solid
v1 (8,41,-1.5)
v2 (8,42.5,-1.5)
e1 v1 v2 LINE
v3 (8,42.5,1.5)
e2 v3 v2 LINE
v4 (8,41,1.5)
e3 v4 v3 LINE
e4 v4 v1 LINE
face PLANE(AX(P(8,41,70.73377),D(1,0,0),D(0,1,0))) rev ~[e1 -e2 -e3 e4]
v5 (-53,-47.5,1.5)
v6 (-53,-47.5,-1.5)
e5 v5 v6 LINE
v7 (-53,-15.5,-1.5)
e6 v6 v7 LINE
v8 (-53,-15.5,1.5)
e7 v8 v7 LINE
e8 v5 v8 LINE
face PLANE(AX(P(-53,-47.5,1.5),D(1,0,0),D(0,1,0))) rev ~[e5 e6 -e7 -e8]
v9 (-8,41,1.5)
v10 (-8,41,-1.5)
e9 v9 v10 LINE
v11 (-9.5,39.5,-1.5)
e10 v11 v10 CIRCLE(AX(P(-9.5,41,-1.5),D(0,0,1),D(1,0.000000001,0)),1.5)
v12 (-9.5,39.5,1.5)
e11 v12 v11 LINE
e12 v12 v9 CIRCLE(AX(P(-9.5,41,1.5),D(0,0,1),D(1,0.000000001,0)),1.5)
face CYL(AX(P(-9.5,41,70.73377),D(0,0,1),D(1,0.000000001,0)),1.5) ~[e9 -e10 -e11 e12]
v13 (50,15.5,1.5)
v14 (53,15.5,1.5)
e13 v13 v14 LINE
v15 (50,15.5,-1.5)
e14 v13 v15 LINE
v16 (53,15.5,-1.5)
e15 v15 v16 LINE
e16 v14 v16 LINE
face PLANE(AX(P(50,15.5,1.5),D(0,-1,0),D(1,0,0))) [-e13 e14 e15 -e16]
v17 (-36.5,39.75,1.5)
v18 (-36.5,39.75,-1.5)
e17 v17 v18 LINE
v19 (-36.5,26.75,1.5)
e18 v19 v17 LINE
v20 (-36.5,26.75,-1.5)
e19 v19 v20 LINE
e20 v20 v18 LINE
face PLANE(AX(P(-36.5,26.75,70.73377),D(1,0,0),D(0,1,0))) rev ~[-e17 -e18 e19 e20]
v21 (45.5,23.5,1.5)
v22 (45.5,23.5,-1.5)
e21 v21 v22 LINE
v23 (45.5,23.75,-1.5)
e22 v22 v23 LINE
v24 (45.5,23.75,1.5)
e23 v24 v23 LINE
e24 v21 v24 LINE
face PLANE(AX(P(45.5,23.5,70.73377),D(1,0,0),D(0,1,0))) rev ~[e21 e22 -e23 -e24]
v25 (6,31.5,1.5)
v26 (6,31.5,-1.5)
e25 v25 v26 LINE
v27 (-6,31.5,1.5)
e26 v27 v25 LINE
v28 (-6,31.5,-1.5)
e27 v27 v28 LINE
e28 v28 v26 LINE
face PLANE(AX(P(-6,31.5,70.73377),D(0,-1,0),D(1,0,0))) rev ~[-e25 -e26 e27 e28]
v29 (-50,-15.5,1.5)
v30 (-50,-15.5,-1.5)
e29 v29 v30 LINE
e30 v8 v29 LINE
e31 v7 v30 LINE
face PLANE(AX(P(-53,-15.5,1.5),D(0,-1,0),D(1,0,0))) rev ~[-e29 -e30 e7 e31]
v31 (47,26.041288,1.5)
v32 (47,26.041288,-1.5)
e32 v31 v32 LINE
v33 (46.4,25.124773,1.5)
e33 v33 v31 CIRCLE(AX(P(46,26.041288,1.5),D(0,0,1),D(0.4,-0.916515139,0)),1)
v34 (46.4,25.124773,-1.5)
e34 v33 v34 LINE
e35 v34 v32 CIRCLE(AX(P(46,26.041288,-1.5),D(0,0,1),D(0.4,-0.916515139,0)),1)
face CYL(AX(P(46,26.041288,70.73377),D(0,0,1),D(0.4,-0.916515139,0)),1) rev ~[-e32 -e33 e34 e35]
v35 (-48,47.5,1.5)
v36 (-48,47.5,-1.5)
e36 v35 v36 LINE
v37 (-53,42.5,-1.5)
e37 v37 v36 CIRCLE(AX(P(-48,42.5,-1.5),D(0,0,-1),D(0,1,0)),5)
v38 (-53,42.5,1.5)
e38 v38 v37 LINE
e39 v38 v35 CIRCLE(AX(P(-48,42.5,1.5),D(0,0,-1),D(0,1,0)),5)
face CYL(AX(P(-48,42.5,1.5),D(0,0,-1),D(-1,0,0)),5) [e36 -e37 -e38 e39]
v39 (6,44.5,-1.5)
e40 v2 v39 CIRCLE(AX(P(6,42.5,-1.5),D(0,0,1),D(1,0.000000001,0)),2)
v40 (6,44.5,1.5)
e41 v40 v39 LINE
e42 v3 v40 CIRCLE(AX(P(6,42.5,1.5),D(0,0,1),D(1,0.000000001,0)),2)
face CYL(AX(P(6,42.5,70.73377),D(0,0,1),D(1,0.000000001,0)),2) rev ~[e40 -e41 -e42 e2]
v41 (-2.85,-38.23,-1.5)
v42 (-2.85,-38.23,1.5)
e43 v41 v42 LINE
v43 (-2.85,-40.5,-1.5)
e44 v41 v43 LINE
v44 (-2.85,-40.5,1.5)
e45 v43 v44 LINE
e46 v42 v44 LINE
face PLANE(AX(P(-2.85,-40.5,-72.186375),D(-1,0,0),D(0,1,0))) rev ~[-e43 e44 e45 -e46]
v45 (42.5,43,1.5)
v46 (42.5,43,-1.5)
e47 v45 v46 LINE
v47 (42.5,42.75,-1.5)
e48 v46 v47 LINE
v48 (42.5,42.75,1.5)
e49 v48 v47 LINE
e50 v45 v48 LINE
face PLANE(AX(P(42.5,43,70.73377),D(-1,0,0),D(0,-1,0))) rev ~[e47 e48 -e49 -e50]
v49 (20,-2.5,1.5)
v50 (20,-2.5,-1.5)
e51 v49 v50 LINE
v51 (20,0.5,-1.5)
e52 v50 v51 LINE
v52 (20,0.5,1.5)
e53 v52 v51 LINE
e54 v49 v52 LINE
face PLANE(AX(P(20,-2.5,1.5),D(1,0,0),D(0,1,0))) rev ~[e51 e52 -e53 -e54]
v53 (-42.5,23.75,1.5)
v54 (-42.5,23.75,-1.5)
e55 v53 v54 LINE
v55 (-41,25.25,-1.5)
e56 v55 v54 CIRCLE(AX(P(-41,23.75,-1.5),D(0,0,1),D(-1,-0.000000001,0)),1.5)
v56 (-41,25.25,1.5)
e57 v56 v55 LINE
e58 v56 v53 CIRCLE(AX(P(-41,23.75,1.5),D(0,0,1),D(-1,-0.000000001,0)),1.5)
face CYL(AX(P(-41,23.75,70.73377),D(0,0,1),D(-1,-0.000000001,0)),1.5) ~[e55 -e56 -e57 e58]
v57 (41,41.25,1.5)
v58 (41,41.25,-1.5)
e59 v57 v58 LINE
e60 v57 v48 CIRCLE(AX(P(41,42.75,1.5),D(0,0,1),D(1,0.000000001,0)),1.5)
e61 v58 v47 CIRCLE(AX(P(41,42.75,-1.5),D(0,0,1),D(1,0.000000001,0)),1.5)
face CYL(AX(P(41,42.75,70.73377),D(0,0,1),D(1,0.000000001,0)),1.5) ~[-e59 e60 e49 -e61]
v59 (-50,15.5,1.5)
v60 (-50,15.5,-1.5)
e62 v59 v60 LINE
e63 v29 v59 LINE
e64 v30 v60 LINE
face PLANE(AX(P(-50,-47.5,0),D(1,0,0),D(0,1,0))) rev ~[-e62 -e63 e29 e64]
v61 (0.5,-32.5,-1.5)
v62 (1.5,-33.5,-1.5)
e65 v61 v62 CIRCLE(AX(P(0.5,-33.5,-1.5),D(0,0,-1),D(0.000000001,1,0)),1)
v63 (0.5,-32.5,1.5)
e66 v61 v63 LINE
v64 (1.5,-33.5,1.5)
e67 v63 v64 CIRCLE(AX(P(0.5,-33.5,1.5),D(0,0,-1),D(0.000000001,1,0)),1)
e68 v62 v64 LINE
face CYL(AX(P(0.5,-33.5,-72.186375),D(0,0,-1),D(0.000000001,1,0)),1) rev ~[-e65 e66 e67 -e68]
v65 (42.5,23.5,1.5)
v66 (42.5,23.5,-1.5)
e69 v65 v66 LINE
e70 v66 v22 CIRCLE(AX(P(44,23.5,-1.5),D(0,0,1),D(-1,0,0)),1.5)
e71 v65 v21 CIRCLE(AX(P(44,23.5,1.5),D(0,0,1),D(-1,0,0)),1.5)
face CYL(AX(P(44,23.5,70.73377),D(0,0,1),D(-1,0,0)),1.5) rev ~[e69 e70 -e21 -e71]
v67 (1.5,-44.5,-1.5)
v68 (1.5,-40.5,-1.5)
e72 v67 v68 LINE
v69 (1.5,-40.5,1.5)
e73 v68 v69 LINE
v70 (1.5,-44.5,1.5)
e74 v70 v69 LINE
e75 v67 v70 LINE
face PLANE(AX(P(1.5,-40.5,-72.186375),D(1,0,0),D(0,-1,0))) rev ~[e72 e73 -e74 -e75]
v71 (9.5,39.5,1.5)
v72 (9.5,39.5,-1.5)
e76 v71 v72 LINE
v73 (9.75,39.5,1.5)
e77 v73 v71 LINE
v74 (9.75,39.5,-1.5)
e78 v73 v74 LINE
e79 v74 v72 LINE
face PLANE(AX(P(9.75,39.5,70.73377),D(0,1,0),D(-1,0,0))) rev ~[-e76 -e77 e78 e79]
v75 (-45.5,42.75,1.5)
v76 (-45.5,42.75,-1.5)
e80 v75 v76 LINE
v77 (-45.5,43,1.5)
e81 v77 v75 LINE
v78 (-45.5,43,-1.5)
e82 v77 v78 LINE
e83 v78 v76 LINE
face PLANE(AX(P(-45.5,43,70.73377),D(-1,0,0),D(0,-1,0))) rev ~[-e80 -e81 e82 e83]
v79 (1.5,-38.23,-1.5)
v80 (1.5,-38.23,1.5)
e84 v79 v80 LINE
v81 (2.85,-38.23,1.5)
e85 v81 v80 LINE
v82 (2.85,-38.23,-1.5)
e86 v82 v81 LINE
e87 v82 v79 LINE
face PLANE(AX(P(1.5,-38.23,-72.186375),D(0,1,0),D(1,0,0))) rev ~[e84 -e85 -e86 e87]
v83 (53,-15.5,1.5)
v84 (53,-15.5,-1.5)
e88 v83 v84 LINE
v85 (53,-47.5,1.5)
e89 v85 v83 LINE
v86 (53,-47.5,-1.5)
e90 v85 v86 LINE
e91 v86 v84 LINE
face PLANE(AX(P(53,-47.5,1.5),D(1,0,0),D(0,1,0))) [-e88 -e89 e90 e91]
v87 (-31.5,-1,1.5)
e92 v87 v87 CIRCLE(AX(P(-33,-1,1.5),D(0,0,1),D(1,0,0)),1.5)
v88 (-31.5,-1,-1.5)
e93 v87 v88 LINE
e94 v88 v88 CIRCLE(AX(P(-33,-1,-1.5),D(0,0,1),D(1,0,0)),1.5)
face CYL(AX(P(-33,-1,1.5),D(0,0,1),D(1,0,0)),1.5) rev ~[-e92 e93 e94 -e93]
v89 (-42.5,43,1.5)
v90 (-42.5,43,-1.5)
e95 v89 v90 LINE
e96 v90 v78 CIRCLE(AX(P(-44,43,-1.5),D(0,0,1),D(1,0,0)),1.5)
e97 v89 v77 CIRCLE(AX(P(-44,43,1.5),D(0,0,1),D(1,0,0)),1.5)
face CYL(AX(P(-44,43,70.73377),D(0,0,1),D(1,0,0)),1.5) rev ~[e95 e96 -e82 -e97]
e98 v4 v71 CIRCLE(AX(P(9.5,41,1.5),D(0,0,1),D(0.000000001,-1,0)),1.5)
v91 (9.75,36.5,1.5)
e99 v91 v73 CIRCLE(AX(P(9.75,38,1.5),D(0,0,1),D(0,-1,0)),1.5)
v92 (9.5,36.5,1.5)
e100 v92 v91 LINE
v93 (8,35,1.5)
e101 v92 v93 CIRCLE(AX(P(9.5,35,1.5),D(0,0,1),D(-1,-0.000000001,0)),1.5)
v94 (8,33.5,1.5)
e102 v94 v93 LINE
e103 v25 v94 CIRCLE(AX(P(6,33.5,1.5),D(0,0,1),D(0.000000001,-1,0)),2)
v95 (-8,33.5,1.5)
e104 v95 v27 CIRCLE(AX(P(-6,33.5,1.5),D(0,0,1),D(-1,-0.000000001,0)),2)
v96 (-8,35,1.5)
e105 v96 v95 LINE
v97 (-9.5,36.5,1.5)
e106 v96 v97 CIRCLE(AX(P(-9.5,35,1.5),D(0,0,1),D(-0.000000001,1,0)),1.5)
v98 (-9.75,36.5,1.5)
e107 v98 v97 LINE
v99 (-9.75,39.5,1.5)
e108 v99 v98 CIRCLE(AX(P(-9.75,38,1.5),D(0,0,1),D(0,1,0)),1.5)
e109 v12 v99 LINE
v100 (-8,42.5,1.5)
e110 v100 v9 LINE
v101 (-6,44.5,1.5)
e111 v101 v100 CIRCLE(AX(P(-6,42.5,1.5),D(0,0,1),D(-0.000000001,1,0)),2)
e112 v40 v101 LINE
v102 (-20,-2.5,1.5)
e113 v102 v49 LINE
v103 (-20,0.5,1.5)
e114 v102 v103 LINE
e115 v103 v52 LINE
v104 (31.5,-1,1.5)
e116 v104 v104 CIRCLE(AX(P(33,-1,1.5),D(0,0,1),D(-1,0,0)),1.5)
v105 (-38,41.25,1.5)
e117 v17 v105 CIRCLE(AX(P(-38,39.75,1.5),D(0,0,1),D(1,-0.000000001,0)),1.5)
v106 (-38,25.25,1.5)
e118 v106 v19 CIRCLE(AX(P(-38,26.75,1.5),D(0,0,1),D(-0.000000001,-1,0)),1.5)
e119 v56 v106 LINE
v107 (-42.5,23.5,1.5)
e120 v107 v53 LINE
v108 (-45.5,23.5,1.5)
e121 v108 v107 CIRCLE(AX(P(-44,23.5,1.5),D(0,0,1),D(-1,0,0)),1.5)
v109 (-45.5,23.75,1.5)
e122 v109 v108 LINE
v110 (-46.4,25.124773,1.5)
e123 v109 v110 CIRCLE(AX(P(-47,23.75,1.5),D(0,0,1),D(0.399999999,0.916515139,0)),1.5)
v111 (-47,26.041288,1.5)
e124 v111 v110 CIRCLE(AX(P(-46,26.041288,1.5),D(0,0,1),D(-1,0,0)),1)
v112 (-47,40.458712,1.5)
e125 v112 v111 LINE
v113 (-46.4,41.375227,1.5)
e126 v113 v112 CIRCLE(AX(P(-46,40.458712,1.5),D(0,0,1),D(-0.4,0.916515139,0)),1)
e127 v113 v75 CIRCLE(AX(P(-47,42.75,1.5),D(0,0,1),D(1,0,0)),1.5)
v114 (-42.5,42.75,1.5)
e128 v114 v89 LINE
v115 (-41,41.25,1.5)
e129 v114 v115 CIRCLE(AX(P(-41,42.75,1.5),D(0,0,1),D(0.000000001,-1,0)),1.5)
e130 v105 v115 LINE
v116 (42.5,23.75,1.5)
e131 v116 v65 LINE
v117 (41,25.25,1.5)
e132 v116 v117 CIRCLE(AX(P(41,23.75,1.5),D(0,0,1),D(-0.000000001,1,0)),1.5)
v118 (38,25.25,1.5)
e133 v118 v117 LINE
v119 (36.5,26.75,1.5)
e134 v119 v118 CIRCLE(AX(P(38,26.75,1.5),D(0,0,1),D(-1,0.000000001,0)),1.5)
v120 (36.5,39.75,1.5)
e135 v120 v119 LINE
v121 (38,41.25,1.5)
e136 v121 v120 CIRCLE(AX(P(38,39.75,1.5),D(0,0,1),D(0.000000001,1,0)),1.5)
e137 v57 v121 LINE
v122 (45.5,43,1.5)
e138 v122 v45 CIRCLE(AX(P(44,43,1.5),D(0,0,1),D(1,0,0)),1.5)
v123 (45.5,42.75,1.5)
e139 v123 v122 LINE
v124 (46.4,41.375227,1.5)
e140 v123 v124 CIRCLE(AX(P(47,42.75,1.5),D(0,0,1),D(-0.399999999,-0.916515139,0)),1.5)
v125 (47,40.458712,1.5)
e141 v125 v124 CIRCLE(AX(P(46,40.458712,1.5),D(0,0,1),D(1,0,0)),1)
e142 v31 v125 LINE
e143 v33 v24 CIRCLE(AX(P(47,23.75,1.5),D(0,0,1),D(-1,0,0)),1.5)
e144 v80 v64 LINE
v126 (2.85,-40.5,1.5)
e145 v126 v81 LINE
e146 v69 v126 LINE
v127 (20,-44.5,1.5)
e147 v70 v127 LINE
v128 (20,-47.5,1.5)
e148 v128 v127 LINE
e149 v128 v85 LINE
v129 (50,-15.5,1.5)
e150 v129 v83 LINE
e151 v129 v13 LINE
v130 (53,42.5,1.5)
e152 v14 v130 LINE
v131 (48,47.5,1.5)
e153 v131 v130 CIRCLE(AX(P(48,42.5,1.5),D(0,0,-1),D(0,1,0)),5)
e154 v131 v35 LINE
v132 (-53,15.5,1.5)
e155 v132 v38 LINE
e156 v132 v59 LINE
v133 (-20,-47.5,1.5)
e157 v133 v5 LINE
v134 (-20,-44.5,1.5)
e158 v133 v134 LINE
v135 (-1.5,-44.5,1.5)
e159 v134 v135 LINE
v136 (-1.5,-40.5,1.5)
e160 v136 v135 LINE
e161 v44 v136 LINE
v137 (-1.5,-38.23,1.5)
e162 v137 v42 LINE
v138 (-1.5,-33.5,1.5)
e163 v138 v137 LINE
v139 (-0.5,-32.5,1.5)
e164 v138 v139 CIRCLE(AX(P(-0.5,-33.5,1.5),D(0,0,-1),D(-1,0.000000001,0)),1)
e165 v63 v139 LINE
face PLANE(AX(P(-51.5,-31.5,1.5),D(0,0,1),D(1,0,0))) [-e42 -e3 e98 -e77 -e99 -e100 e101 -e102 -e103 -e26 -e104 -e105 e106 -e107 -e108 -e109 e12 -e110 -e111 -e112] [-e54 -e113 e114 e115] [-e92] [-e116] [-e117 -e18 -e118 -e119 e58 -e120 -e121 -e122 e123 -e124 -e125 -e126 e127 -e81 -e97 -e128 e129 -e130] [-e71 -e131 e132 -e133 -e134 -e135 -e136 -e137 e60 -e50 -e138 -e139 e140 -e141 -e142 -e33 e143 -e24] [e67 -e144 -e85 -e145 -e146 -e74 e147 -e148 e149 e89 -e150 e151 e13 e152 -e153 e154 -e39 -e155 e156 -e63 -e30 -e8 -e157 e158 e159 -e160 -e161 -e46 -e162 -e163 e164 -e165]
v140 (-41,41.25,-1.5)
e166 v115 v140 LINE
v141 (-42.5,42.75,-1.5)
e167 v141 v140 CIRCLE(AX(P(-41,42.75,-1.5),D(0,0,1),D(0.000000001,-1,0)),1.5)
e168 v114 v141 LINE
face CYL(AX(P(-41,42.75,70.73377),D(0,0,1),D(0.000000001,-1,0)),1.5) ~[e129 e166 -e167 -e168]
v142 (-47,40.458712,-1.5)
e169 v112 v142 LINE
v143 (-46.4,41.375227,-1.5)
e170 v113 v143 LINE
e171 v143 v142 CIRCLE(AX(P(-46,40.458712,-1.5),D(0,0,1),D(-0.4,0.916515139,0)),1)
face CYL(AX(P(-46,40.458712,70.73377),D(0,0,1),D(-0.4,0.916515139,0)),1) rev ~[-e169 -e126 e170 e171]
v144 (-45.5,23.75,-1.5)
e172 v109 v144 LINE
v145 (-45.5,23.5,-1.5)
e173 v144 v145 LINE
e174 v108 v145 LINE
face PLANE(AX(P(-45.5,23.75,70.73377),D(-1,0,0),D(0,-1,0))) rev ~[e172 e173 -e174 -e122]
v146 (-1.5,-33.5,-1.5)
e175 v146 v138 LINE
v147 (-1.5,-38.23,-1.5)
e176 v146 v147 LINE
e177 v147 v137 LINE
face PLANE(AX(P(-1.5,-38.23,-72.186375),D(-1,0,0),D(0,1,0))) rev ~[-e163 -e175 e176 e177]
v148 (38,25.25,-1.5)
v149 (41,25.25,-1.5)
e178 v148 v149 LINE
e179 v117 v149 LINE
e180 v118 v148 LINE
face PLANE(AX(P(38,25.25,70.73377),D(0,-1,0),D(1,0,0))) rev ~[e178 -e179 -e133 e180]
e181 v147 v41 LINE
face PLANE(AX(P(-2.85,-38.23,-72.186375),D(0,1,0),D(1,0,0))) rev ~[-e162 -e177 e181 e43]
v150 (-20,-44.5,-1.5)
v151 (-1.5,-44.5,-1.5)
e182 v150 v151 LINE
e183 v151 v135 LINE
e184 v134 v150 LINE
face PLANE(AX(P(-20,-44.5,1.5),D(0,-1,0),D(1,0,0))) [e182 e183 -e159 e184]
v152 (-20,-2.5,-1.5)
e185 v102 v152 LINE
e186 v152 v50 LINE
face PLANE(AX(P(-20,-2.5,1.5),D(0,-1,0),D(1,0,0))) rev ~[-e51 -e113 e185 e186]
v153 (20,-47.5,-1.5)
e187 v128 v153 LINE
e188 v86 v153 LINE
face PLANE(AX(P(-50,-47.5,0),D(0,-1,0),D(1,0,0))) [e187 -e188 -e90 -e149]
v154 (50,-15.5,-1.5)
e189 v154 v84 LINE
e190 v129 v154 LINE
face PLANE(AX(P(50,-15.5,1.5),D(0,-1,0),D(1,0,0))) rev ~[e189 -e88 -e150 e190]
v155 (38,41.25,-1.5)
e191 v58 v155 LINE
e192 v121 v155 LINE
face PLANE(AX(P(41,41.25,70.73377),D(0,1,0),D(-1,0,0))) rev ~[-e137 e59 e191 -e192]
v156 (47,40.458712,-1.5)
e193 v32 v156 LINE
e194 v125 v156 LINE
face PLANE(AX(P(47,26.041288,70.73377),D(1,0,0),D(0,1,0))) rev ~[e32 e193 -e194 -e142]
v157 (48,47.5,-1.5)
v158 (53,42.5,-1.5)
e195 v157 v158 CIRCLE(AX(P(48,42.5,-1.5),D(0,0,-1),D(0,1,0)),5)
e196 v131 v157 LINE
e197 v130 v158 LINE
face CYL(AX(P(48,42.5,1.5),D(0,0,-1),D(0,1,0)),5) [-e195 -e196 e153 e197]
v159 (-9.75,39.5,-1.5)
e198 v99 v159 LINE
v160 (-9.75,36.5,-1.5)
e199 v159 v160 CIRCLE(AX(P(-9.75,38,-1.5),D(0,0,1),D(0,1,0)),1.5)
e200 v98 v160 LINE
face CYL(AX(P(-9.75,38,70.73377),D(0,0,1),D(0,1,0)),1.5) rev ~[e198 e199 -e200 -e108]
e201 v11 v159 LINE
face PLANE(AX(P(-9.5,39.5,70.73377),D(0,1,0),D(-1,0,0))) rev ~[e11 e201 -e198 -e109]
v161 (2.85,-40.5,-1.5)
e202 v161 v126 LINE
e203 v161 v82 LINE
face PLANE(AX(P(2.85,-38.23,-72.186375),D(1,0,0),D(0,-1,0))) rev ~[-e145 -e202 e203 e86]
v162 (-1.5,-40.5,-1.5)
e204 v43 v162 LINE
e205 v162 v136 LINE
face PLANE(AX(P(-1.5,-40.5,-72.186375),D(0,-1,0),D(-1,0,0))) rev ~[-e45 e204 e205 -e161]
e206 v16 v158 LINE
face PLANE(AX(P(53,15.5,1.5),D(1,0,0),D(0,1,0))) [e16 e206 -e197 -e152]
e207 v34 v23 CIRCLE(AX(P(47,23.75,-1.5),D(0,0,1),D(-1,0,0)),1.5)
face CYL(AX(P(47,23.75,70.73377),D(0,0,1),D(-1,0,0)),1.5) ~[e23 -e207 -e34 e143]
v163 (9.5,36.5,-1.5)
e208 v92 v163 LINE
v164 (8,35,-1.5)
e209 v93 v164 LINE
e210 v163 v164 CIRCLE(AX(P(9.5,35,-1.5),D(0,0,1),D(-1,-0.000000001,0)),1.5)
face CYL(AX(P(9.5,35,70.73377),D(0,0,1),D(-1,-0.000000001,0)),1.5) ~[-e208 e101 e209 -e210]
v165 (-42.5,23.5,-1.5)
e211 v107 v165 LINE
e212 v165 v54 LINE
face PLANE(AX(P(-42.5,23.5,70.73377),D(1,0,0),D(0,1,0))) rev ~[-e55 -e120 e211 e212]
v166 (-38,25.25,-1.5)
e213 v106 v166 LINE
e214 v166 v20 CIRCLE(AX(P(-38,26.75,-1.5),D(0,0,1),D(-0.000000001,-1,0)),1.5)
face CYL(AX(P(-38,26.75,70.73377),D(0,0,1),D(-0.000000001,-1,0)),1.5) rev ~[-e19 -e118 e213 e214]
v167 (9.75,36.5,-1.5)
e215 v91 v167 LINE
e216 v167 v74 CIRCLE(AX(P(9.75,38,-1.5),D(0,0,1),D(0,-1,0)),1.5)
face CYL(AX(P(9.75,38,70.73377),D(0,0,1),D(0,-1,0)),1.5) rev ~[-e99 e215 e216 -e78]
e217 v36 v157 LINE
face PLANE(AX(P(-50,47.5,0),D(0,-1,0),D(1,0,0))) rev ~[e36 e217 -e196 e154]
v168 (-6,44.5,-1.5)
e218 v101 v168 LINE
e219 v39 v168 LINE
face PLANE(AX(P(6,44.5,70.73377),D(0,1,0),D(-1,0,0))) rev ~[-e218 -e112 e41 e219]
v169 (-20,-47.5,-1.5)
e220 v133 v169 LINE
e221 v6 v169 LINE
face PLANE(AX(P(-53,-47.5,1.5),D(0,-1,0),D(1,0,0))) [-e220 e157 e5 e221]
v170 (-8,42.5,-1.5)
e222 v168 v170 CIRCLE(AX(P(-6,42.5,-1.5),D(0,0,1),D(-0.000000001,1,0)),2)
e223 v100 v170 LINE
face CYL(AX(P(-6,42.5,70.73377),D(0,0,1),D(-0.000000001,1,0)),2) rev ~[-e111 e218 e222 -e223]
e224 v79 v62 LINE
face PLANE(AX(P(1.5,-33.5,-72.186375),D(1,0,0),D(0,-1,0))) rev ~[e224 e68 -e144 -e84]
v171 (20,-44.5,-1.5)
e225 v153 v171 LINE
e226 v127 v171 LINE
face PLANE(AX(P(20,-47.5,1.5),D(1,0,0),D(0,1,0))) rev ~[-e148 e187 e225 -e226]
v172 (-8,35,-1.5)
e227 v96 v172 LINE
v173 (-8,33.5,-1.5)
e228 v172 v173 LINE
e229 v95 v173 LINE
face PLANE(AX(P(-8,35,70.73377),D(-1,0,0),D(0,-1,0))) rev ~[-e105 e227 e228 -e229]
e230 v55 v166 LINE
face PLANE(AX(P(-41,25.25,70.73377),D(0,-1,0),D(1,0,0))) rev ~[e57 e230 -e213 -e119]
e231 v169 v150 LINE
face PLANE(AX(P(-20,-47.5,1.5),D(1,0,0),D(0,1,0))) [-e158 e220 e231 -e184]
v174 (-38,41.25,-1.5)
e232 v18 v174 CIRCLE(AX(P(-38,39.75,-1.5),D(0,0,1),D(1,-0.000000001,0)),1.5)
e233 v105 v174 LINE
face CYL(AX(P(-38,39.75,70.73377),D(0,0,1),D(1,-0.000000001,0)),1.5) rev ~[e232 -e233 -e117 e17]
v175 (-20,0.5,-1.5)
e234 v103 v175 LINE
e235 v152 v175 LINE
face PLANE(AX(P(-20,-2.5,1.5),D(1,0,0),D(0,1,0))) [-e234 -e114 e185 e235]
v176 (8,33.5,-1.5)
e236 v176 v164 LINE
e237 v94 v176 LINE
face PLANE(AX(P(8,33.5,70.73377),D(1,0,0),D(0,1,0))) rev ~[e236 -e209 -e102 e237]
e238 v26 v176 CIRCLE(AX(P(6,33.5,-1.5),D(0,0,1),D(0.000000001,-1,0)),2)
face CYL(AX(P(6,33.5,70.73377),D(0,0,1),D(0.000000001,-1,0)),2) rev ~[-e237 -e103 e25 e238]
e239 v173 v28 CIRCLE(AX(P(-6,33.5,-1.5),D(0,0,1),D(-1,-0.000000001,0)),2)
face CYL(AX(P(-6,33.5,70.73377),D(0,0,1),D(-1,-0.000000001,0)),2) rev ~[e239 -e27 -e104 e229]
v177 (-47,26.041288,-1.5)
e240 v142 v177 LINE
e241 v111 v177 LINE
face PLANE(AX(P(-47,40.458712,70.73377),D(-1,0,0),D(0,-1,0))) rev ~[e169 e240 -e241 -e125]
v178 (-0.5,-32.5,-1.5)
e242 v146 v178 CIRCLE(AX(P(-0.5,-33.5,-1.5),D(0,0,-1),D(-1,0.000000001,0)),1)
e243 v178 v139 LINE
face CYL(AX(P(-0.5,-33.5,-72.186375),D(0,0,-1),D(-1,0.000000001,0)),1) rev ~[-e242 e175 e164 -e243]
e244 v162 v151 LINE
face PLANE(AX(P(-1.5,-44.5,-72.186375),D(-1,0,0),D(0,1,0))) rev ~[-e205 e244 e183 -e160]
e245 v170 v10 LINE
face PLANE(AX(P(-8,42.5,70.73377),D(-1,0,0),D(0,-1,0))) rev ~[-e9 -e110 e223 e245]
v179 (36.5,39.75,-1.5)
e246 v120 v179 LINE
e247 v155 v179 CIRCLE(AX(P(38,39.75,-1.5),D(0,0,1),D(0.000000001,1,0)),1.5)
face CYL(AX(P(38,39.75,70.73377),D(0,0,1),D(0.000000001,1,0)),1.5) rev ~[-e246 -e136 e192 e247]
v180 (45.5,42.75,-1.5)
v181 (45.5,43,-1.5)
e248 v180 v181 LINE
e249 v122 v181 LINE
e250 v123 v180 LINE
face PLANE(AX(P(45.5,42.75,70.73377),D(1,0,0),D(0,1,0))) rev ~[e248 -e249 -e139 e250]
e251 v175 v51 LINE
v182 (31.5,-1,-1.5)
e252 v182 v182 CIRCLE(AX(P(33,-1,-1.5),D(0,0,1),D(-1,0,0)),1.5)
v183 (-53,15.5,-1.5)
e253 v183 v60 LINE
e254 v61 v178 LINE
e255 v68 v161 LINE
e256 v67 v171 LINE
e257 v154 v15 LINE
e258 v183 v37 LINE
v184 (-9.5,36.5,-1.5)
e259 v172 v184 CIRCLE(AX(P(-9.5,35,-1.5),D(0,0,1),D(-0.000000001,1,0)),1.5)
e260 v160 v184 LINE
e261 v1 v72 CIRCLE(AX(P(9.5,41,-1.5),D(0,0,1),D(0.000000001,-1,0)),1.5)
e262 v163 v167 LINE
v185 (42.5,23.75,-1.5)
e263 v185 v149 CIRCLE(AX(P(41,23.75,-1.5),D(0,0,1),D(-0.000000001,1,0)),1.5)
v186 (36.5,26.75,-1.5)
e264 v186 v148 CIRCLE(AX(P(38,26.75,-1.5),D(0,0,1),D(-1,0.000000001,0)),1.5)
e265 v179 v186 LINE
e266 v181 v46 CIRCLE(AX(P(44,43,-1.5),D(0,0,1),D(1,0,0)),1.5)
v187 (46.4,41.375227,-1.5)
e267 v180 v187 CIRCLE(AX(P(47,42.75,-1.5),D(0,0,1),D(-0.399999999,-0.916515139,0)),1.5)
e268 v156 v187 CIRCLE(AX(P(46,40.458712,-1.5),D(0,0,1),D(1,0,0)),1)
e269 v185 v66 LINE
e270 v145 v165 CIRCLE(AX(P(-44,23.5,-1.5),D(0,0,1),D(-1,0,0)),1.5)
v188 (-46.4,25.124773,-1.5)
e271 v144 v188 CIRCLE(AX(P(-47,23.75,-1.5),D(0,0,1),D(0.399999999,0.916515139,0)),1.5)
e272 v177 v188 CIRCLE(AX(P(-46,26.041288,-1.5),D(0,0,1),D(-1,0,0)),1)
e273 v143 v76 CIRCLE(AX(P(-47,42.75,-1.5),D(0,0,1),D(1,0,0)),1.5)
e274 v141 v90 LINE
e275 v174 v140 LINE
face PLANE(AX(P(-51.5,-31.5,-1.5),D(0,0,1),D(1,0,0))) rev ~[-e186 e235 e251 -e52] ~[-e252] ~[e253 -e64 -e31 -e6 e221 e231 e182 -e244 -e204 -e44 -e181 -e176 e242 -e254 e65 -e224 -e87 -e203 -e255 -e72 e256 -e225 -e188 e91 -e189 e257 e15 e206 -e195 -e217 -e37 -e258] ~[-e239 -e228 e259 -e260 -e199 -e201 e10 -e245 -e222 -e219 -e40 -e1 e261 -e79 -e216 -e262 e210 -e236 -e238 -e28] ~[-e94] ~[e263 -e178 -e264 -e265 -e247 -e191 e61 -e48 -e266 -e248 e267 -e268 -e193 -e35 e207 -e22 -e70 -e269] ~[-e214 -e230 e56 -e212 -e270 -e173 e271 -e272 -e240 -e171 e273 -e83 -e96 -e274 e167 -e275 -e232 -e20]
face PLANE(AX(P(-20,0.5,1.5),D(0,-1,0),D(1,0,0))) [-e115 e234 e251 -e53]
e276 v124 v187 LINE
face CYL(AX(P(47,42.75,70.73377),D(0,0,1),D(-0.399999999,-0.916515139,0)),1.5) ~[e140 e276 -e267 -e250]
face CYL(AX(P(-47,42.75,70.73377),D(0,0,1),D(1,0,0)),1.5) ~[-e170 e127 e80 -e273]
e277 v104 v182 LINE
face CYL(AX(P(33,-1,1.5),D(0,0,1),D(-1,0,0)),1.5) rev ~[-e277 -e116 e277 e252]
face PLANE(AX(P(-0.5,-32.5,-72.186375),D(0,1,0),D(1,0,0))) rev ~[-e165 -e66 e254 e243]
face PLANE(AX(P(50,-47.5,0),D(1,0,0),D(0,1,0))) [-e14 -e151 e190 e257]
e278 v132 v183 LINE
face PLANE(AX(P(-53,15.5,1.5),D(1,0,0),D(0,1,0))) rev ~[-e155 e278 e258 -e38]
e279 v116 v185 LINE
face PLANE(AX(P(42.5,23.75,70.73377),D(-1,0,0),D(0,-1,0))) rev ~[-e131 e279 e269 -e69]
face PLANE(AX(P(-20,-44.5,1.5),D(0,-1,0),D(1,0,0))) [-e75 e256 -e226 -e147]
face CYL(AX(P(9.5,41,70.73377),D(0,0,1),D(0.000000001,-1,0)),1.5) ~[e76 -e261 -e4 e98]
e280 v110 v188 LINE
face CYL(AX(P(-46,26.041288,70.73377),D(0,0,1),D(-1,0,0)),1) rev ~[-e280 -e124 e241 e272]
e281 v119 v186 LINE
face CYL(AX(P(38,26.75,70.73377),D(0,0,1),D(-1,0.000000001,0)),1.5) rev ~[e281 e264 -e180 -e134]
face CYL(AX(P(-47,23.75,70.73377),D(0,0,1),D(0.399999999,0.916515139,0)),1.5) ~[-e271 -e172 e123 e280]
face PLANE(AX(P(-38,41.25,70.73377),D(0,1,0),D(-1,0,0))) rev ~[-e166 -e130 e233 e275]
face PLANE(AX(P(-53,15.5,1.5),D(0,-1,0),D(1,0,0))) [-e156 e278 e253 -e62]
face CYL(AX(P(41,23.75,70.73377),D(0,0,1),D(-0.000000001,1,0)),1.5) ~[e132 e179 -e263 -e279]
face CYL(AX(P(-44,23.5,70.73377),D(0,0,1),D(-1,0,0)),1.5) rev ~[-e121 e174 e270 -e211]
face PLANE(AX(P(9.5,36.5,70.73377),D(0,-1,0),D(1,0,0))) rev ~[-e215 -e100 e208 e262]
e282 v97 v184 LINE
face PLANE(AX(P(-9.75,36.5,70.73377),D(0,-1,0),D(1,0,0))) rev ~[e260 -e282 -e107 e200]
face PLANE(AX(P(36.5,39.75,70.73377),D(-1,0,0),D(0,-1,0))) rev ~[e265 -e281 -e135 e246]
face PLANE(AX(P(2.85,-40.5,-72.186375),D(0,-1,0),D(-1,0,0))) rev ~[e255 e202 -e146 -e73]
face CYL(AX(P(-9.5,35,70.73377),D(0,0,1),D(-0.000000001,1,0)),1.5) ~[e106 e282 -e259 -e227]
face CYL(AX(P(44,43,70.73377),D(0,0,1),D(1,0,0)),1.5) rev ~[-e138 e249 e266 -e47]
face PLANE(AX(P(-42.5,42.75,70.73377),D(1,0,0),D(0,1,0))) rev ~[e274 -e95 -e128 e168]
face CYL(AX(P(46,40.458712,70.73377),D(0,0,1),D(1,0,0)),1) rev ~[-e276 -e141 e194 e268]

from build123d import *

# Parameters (mm, degrees)
ESBO_O1_W                = 100
ESBO_O1_H                = 95
RESSALTO_EXTRUS_O1_DEPTH = 1.5
ESBO_O2_R                = 1.5
ESBO_O2_W                = 40
ESBO_O2_H                = 3
CORTE_EXTRUS_O1_DEPTH    = 70.030790232
ESBO_O3_W                = 3
ESBO_O3_H                = 32
RESSALTO_EXTRUS_O2_DEPTH = 3
CUT_EXTRUDE1_DEPTH       = 72.233770081
CUT_EXTRUDE1_DEPTH_BACK  = 72.233770081
CUT_EXTRUDE4_DEPTH       = 72.186375101
CUT_EXTRUDE4_DEPTH_BACK  = 72.186375101
FILLET1_R                = 5


with BuildPart() as part:
    # Esboço1 → Ressalto-extrusão1 (new, symmetric)
    with BuildSketch(Plane.XY):
        Rectangle(ESBO_O1_W, ESBO_O1_H)
    extrude(amount=RESSALTO_EXTRUS_O1_DEPTH, both=True)

    # Esboço2 → Corte-extrusão1 (cut, through all)
    with BuildSketch(Plane.XY.offset(1.5)):
        with Locations((-33, -1)):
            Circle(ESBO_O2_R)
        with Locations(Location((33, -1, 0), (0, 0, 180))):
            Circle(ESBO_O2_R)
        with Locations((0, -46)):
            Rectangle(ESBO_O2_W, ESBO_O2_H)
        with Locations((0, -1)):
            Rectangle(ESBO_O2_W, ESBO_O2_H)
    extrude(amount=-CORTE_EXTRUS_O1_DEPTH, mode=Mode.SUBTRACT)

    # Esboço3 → Ressalto-extrusão2 (add, through all)
    with BuildSketch(Plane.XY.offset(1.5)):
        with Locations((-51.5, -31.5)):
            Rectangle(ESBO_O3_W, ESBO_O3_H)
        with Locations((51.5, -31.5)):
            Rectangle(ESBO_O3_W, ESBO_O3_H)
        with Locations((-51.5, 31.5)):
            Rectangle(ESBO_O3_W, ESBO_O3_H)
        with Locations((51.5, 31.5)):
            Rectangle(ESBO_O3_W, ESBO_O3_H)
    extrude(amount=-RESSALTO_EXTRUS_O2_DEPTH)

    # Sketch1 → Cut-Extrude1 (cut, two sides: drawn at the far end of the back side and taken through both)
    with BuildSketch(Plane(origin=(0, 0, -1.5), x_dir=(-1, 0, 0), z_dir=(0, 0, -1)).offset(-CUT_EXTRUDE1_DEPTH_BACK)):
        with BuildLine():
            Line((-36.5, 39.75), (-36.5, 26.75))
            ThreePointArc((-36.5, 26.75), (-36.939339828, 25.689339828), (-38, 25.25))
            Line((-38, 25.25), (-41, 25.25))
            ThreePointArc((-41, 25.25), (-42.060660172, 24.810660172), (-42.5, 23.75))
            Line((-42.5, 23.75), (-42.5, 23.5))
            ThreePointArc((-42.5, 23.5), (-44, 22), (-45.5, 23.5))
            Line((-45.5, 23.5), (-45.5, 23.75))
            ThreePointArc((-45.5, 23.75), (-45.74500996, 24.571583836), (-46.4, 25.124772708))
            ThreePointArc((-46.4, 25.124772708), (-46.836660027, 25.49356529), (-47, 26.041287847))
            Line((-47, 26.041287847), (-47, 40.458712153))
            ThreePointArc((-47, 40.458712153), (-46.836660027, 41.00643471), (-46.4, 41.375227292))
            ThreePointArc((-46.4, 41.375227292), (-45.74500996, 41.928416164), (-45.5, 42.75))
            Line((-45.5, 42.75), (-45.5, 43))
            ThreePointArc((-45.5, 43), (-44, 44.5), (-42.5, 43))
            Line((-42.5, 43), (-42.5, 42.75))
            ThreePointArc((-42.5, 42.75), (-42.060660172, 41.689339828), (-41, 41.25))
            Line((-41, 41.25), (-38, 41.25))
            ThreePointArc((-38, 41.25), (-36.939339828, 40.810660172), (-36.5, 39.75))
        make_face()
        with BuildLine():
            Line((-6, 44.5), (6, 44.5))
            ThreePointArc((6, 44.5), (7.414213562, 43.914213562), (8, 42.5))
            Line((8, 42.5), (8, 41))
            ThreePointArc((8, 41), (8.439339828, 39.939339828), (9.5, 39.5))
            Line((9.5, 39.5), (9.75, 39.5))
            ThreePointArc((9.75, 39.5), (11.25, 38), (9.75, 36.5))
            Line((9.75, 36.5), (9.5, 36.5))
            ThreePointArc((9.5, 36.5), (8.439339828, 36.060660172), (8, 35))
            Line((8, 35), (8, 33.5))
            ThreePointArc((8, 33.5), (7.414213562, 32.085786438), (6, 31.5))
            Line((6, 31.5), (-6, 31.5))
            ThreePointArc((-6, 31.5), (-7.414213562, 32.085786438), (-8, 33.5))
            Line((-8, 33.5), (-8, 35))
            ThreePointArc((-8, 35), (-8.439339828, 36.060660172), (-9.5, 36.5))
            Line((-9.5, 36.5), (-9.75, 36.5))
            ThreePointArc((-9.75, 36.5), (-11.25, 38), (-9.75, 39.5))
            Line((-9.75, 39.5), (-9.5, 39.5))
            ThreePointArc((-9.5, 39.5), (-8.439339828, 39.939339828), (-8, 41))
            Line((-8, 41), (-8, 42.5))
            ThreePointArc((-8, 42.5), (-7.414213562, 43.914213562), (-6, 44.5))
        make_face()
        with BuildLine():
            Line((47, 40.458712153), (47, 26.041287847))
            ThreePointArc((47, 26.041287847), (46.836660027, 25.49356529), (46.4, 25.124772708))
            ThreePointArc((46.4, 25.124772708), (45.74500996, 24.571583836), (45.5, 23.75))
            Line((45.5, 23.75), (45.5, 23.5))
            ThreePointArc((45.5, 23.5), (44, 22), (42.5, 23.5))
            Line((42.5, 23.5), (42.5, 23.75))
            ThreePointArc((42.5, 23.75), (42.060660172, 24.810660172), (41, 25.25))
            Line((41, 25.25), (38, 25.25))
            ThreePointArc((38, 25.25), (36.939339828, 25.689339828), (36.5, 26.75))
            Line((36.5, 26.75), (36.5, 39.75))
            ThreePointArc((36.5, 39.75), (36.939339828, 40.810660172), (38, 41.25))
            Line((38, 41.25), (41, 41.25))
            ThreePointArc((41, 41.25), (42.060660172, 41.689339828), (42.5, 42.75))
            Line((42.5, 42.75), (42.5, 43))
            ThreePointArc((42.5, 43), (44, 44.5), (45.5, 43))
            Line((45.5, 43), (45.5, 42.75))
            ThreePointArc((45.5, 42.75), (45.74500996, 41.928416164), (46.4, 41.375227292))
            ThreePointArc((46.4, 41.375227292), (46.836660027, 41.00643471), (47, 40.458712153))
        make_face()
    extrude(amount=CUT_EXTRUDE1_DEPTH + CUT_EXTRUDE1_DEPTH_BACK, mode=Mode.SUBTRACT)

    # Sketch2 → Cut-Extrude4 (cut, two sides: drawn at the far end of the back side and taken through both)
    with BuildSketch(Plane.XY.offset(-CUT_EXTRUDE4_DEPTH_BACK)):
        with BuildLine():
            Line((-0.5, -32.5), (0.5, -32.5))
            ThreePointArc((0.5, -32.5), (1.207106781, -32.792893219), (1.5, -33.5))
            Line((1.5, -33.5), (1.5, -38.23))
            Line((1.5, -38.23), (2.85, -38.23))
            Line((2.85, -38.23), (2.85, -40.5))
            Line((2.85, -40.5), (1.5, -40.5))
            Line((1.5, -40.5), (1.5, -44.5))
            Line((1.5, -44.5), (-1.5, -44.5))
            Line((-1.5, -44.5), (-1.5, -40.5))
            Line((-1.5, -40.5), (-2.85, -40.5))
            Line((-2.85, -40.5), (-2.85, -38.23))
            Line((-2.85, -38.23), (-1.5, -38.23))
            Line((-1.5, -38.23), (-1.5, -33.5))
            ThreePointArc((-1.5, -33.5), (-1.207106781, -32.792893219), (-0.5, -32.5))
        make_face()
    extrude(amount=CUT_EXTRUDE4_DEPTH + CUT_EXTRUDE4_DEPTH_BACK, mode=Mode.SUBTRACT)

    # Fillet1
    fillet1_edges = [part.edges().sort_by_distance(p)[0] for p in [
        (53, 47.5, 0),
        (-53, 47.5, 0),
    ]]
    fillet(fillet1_edges, radius=FILLET1_R)


solid = part.part
